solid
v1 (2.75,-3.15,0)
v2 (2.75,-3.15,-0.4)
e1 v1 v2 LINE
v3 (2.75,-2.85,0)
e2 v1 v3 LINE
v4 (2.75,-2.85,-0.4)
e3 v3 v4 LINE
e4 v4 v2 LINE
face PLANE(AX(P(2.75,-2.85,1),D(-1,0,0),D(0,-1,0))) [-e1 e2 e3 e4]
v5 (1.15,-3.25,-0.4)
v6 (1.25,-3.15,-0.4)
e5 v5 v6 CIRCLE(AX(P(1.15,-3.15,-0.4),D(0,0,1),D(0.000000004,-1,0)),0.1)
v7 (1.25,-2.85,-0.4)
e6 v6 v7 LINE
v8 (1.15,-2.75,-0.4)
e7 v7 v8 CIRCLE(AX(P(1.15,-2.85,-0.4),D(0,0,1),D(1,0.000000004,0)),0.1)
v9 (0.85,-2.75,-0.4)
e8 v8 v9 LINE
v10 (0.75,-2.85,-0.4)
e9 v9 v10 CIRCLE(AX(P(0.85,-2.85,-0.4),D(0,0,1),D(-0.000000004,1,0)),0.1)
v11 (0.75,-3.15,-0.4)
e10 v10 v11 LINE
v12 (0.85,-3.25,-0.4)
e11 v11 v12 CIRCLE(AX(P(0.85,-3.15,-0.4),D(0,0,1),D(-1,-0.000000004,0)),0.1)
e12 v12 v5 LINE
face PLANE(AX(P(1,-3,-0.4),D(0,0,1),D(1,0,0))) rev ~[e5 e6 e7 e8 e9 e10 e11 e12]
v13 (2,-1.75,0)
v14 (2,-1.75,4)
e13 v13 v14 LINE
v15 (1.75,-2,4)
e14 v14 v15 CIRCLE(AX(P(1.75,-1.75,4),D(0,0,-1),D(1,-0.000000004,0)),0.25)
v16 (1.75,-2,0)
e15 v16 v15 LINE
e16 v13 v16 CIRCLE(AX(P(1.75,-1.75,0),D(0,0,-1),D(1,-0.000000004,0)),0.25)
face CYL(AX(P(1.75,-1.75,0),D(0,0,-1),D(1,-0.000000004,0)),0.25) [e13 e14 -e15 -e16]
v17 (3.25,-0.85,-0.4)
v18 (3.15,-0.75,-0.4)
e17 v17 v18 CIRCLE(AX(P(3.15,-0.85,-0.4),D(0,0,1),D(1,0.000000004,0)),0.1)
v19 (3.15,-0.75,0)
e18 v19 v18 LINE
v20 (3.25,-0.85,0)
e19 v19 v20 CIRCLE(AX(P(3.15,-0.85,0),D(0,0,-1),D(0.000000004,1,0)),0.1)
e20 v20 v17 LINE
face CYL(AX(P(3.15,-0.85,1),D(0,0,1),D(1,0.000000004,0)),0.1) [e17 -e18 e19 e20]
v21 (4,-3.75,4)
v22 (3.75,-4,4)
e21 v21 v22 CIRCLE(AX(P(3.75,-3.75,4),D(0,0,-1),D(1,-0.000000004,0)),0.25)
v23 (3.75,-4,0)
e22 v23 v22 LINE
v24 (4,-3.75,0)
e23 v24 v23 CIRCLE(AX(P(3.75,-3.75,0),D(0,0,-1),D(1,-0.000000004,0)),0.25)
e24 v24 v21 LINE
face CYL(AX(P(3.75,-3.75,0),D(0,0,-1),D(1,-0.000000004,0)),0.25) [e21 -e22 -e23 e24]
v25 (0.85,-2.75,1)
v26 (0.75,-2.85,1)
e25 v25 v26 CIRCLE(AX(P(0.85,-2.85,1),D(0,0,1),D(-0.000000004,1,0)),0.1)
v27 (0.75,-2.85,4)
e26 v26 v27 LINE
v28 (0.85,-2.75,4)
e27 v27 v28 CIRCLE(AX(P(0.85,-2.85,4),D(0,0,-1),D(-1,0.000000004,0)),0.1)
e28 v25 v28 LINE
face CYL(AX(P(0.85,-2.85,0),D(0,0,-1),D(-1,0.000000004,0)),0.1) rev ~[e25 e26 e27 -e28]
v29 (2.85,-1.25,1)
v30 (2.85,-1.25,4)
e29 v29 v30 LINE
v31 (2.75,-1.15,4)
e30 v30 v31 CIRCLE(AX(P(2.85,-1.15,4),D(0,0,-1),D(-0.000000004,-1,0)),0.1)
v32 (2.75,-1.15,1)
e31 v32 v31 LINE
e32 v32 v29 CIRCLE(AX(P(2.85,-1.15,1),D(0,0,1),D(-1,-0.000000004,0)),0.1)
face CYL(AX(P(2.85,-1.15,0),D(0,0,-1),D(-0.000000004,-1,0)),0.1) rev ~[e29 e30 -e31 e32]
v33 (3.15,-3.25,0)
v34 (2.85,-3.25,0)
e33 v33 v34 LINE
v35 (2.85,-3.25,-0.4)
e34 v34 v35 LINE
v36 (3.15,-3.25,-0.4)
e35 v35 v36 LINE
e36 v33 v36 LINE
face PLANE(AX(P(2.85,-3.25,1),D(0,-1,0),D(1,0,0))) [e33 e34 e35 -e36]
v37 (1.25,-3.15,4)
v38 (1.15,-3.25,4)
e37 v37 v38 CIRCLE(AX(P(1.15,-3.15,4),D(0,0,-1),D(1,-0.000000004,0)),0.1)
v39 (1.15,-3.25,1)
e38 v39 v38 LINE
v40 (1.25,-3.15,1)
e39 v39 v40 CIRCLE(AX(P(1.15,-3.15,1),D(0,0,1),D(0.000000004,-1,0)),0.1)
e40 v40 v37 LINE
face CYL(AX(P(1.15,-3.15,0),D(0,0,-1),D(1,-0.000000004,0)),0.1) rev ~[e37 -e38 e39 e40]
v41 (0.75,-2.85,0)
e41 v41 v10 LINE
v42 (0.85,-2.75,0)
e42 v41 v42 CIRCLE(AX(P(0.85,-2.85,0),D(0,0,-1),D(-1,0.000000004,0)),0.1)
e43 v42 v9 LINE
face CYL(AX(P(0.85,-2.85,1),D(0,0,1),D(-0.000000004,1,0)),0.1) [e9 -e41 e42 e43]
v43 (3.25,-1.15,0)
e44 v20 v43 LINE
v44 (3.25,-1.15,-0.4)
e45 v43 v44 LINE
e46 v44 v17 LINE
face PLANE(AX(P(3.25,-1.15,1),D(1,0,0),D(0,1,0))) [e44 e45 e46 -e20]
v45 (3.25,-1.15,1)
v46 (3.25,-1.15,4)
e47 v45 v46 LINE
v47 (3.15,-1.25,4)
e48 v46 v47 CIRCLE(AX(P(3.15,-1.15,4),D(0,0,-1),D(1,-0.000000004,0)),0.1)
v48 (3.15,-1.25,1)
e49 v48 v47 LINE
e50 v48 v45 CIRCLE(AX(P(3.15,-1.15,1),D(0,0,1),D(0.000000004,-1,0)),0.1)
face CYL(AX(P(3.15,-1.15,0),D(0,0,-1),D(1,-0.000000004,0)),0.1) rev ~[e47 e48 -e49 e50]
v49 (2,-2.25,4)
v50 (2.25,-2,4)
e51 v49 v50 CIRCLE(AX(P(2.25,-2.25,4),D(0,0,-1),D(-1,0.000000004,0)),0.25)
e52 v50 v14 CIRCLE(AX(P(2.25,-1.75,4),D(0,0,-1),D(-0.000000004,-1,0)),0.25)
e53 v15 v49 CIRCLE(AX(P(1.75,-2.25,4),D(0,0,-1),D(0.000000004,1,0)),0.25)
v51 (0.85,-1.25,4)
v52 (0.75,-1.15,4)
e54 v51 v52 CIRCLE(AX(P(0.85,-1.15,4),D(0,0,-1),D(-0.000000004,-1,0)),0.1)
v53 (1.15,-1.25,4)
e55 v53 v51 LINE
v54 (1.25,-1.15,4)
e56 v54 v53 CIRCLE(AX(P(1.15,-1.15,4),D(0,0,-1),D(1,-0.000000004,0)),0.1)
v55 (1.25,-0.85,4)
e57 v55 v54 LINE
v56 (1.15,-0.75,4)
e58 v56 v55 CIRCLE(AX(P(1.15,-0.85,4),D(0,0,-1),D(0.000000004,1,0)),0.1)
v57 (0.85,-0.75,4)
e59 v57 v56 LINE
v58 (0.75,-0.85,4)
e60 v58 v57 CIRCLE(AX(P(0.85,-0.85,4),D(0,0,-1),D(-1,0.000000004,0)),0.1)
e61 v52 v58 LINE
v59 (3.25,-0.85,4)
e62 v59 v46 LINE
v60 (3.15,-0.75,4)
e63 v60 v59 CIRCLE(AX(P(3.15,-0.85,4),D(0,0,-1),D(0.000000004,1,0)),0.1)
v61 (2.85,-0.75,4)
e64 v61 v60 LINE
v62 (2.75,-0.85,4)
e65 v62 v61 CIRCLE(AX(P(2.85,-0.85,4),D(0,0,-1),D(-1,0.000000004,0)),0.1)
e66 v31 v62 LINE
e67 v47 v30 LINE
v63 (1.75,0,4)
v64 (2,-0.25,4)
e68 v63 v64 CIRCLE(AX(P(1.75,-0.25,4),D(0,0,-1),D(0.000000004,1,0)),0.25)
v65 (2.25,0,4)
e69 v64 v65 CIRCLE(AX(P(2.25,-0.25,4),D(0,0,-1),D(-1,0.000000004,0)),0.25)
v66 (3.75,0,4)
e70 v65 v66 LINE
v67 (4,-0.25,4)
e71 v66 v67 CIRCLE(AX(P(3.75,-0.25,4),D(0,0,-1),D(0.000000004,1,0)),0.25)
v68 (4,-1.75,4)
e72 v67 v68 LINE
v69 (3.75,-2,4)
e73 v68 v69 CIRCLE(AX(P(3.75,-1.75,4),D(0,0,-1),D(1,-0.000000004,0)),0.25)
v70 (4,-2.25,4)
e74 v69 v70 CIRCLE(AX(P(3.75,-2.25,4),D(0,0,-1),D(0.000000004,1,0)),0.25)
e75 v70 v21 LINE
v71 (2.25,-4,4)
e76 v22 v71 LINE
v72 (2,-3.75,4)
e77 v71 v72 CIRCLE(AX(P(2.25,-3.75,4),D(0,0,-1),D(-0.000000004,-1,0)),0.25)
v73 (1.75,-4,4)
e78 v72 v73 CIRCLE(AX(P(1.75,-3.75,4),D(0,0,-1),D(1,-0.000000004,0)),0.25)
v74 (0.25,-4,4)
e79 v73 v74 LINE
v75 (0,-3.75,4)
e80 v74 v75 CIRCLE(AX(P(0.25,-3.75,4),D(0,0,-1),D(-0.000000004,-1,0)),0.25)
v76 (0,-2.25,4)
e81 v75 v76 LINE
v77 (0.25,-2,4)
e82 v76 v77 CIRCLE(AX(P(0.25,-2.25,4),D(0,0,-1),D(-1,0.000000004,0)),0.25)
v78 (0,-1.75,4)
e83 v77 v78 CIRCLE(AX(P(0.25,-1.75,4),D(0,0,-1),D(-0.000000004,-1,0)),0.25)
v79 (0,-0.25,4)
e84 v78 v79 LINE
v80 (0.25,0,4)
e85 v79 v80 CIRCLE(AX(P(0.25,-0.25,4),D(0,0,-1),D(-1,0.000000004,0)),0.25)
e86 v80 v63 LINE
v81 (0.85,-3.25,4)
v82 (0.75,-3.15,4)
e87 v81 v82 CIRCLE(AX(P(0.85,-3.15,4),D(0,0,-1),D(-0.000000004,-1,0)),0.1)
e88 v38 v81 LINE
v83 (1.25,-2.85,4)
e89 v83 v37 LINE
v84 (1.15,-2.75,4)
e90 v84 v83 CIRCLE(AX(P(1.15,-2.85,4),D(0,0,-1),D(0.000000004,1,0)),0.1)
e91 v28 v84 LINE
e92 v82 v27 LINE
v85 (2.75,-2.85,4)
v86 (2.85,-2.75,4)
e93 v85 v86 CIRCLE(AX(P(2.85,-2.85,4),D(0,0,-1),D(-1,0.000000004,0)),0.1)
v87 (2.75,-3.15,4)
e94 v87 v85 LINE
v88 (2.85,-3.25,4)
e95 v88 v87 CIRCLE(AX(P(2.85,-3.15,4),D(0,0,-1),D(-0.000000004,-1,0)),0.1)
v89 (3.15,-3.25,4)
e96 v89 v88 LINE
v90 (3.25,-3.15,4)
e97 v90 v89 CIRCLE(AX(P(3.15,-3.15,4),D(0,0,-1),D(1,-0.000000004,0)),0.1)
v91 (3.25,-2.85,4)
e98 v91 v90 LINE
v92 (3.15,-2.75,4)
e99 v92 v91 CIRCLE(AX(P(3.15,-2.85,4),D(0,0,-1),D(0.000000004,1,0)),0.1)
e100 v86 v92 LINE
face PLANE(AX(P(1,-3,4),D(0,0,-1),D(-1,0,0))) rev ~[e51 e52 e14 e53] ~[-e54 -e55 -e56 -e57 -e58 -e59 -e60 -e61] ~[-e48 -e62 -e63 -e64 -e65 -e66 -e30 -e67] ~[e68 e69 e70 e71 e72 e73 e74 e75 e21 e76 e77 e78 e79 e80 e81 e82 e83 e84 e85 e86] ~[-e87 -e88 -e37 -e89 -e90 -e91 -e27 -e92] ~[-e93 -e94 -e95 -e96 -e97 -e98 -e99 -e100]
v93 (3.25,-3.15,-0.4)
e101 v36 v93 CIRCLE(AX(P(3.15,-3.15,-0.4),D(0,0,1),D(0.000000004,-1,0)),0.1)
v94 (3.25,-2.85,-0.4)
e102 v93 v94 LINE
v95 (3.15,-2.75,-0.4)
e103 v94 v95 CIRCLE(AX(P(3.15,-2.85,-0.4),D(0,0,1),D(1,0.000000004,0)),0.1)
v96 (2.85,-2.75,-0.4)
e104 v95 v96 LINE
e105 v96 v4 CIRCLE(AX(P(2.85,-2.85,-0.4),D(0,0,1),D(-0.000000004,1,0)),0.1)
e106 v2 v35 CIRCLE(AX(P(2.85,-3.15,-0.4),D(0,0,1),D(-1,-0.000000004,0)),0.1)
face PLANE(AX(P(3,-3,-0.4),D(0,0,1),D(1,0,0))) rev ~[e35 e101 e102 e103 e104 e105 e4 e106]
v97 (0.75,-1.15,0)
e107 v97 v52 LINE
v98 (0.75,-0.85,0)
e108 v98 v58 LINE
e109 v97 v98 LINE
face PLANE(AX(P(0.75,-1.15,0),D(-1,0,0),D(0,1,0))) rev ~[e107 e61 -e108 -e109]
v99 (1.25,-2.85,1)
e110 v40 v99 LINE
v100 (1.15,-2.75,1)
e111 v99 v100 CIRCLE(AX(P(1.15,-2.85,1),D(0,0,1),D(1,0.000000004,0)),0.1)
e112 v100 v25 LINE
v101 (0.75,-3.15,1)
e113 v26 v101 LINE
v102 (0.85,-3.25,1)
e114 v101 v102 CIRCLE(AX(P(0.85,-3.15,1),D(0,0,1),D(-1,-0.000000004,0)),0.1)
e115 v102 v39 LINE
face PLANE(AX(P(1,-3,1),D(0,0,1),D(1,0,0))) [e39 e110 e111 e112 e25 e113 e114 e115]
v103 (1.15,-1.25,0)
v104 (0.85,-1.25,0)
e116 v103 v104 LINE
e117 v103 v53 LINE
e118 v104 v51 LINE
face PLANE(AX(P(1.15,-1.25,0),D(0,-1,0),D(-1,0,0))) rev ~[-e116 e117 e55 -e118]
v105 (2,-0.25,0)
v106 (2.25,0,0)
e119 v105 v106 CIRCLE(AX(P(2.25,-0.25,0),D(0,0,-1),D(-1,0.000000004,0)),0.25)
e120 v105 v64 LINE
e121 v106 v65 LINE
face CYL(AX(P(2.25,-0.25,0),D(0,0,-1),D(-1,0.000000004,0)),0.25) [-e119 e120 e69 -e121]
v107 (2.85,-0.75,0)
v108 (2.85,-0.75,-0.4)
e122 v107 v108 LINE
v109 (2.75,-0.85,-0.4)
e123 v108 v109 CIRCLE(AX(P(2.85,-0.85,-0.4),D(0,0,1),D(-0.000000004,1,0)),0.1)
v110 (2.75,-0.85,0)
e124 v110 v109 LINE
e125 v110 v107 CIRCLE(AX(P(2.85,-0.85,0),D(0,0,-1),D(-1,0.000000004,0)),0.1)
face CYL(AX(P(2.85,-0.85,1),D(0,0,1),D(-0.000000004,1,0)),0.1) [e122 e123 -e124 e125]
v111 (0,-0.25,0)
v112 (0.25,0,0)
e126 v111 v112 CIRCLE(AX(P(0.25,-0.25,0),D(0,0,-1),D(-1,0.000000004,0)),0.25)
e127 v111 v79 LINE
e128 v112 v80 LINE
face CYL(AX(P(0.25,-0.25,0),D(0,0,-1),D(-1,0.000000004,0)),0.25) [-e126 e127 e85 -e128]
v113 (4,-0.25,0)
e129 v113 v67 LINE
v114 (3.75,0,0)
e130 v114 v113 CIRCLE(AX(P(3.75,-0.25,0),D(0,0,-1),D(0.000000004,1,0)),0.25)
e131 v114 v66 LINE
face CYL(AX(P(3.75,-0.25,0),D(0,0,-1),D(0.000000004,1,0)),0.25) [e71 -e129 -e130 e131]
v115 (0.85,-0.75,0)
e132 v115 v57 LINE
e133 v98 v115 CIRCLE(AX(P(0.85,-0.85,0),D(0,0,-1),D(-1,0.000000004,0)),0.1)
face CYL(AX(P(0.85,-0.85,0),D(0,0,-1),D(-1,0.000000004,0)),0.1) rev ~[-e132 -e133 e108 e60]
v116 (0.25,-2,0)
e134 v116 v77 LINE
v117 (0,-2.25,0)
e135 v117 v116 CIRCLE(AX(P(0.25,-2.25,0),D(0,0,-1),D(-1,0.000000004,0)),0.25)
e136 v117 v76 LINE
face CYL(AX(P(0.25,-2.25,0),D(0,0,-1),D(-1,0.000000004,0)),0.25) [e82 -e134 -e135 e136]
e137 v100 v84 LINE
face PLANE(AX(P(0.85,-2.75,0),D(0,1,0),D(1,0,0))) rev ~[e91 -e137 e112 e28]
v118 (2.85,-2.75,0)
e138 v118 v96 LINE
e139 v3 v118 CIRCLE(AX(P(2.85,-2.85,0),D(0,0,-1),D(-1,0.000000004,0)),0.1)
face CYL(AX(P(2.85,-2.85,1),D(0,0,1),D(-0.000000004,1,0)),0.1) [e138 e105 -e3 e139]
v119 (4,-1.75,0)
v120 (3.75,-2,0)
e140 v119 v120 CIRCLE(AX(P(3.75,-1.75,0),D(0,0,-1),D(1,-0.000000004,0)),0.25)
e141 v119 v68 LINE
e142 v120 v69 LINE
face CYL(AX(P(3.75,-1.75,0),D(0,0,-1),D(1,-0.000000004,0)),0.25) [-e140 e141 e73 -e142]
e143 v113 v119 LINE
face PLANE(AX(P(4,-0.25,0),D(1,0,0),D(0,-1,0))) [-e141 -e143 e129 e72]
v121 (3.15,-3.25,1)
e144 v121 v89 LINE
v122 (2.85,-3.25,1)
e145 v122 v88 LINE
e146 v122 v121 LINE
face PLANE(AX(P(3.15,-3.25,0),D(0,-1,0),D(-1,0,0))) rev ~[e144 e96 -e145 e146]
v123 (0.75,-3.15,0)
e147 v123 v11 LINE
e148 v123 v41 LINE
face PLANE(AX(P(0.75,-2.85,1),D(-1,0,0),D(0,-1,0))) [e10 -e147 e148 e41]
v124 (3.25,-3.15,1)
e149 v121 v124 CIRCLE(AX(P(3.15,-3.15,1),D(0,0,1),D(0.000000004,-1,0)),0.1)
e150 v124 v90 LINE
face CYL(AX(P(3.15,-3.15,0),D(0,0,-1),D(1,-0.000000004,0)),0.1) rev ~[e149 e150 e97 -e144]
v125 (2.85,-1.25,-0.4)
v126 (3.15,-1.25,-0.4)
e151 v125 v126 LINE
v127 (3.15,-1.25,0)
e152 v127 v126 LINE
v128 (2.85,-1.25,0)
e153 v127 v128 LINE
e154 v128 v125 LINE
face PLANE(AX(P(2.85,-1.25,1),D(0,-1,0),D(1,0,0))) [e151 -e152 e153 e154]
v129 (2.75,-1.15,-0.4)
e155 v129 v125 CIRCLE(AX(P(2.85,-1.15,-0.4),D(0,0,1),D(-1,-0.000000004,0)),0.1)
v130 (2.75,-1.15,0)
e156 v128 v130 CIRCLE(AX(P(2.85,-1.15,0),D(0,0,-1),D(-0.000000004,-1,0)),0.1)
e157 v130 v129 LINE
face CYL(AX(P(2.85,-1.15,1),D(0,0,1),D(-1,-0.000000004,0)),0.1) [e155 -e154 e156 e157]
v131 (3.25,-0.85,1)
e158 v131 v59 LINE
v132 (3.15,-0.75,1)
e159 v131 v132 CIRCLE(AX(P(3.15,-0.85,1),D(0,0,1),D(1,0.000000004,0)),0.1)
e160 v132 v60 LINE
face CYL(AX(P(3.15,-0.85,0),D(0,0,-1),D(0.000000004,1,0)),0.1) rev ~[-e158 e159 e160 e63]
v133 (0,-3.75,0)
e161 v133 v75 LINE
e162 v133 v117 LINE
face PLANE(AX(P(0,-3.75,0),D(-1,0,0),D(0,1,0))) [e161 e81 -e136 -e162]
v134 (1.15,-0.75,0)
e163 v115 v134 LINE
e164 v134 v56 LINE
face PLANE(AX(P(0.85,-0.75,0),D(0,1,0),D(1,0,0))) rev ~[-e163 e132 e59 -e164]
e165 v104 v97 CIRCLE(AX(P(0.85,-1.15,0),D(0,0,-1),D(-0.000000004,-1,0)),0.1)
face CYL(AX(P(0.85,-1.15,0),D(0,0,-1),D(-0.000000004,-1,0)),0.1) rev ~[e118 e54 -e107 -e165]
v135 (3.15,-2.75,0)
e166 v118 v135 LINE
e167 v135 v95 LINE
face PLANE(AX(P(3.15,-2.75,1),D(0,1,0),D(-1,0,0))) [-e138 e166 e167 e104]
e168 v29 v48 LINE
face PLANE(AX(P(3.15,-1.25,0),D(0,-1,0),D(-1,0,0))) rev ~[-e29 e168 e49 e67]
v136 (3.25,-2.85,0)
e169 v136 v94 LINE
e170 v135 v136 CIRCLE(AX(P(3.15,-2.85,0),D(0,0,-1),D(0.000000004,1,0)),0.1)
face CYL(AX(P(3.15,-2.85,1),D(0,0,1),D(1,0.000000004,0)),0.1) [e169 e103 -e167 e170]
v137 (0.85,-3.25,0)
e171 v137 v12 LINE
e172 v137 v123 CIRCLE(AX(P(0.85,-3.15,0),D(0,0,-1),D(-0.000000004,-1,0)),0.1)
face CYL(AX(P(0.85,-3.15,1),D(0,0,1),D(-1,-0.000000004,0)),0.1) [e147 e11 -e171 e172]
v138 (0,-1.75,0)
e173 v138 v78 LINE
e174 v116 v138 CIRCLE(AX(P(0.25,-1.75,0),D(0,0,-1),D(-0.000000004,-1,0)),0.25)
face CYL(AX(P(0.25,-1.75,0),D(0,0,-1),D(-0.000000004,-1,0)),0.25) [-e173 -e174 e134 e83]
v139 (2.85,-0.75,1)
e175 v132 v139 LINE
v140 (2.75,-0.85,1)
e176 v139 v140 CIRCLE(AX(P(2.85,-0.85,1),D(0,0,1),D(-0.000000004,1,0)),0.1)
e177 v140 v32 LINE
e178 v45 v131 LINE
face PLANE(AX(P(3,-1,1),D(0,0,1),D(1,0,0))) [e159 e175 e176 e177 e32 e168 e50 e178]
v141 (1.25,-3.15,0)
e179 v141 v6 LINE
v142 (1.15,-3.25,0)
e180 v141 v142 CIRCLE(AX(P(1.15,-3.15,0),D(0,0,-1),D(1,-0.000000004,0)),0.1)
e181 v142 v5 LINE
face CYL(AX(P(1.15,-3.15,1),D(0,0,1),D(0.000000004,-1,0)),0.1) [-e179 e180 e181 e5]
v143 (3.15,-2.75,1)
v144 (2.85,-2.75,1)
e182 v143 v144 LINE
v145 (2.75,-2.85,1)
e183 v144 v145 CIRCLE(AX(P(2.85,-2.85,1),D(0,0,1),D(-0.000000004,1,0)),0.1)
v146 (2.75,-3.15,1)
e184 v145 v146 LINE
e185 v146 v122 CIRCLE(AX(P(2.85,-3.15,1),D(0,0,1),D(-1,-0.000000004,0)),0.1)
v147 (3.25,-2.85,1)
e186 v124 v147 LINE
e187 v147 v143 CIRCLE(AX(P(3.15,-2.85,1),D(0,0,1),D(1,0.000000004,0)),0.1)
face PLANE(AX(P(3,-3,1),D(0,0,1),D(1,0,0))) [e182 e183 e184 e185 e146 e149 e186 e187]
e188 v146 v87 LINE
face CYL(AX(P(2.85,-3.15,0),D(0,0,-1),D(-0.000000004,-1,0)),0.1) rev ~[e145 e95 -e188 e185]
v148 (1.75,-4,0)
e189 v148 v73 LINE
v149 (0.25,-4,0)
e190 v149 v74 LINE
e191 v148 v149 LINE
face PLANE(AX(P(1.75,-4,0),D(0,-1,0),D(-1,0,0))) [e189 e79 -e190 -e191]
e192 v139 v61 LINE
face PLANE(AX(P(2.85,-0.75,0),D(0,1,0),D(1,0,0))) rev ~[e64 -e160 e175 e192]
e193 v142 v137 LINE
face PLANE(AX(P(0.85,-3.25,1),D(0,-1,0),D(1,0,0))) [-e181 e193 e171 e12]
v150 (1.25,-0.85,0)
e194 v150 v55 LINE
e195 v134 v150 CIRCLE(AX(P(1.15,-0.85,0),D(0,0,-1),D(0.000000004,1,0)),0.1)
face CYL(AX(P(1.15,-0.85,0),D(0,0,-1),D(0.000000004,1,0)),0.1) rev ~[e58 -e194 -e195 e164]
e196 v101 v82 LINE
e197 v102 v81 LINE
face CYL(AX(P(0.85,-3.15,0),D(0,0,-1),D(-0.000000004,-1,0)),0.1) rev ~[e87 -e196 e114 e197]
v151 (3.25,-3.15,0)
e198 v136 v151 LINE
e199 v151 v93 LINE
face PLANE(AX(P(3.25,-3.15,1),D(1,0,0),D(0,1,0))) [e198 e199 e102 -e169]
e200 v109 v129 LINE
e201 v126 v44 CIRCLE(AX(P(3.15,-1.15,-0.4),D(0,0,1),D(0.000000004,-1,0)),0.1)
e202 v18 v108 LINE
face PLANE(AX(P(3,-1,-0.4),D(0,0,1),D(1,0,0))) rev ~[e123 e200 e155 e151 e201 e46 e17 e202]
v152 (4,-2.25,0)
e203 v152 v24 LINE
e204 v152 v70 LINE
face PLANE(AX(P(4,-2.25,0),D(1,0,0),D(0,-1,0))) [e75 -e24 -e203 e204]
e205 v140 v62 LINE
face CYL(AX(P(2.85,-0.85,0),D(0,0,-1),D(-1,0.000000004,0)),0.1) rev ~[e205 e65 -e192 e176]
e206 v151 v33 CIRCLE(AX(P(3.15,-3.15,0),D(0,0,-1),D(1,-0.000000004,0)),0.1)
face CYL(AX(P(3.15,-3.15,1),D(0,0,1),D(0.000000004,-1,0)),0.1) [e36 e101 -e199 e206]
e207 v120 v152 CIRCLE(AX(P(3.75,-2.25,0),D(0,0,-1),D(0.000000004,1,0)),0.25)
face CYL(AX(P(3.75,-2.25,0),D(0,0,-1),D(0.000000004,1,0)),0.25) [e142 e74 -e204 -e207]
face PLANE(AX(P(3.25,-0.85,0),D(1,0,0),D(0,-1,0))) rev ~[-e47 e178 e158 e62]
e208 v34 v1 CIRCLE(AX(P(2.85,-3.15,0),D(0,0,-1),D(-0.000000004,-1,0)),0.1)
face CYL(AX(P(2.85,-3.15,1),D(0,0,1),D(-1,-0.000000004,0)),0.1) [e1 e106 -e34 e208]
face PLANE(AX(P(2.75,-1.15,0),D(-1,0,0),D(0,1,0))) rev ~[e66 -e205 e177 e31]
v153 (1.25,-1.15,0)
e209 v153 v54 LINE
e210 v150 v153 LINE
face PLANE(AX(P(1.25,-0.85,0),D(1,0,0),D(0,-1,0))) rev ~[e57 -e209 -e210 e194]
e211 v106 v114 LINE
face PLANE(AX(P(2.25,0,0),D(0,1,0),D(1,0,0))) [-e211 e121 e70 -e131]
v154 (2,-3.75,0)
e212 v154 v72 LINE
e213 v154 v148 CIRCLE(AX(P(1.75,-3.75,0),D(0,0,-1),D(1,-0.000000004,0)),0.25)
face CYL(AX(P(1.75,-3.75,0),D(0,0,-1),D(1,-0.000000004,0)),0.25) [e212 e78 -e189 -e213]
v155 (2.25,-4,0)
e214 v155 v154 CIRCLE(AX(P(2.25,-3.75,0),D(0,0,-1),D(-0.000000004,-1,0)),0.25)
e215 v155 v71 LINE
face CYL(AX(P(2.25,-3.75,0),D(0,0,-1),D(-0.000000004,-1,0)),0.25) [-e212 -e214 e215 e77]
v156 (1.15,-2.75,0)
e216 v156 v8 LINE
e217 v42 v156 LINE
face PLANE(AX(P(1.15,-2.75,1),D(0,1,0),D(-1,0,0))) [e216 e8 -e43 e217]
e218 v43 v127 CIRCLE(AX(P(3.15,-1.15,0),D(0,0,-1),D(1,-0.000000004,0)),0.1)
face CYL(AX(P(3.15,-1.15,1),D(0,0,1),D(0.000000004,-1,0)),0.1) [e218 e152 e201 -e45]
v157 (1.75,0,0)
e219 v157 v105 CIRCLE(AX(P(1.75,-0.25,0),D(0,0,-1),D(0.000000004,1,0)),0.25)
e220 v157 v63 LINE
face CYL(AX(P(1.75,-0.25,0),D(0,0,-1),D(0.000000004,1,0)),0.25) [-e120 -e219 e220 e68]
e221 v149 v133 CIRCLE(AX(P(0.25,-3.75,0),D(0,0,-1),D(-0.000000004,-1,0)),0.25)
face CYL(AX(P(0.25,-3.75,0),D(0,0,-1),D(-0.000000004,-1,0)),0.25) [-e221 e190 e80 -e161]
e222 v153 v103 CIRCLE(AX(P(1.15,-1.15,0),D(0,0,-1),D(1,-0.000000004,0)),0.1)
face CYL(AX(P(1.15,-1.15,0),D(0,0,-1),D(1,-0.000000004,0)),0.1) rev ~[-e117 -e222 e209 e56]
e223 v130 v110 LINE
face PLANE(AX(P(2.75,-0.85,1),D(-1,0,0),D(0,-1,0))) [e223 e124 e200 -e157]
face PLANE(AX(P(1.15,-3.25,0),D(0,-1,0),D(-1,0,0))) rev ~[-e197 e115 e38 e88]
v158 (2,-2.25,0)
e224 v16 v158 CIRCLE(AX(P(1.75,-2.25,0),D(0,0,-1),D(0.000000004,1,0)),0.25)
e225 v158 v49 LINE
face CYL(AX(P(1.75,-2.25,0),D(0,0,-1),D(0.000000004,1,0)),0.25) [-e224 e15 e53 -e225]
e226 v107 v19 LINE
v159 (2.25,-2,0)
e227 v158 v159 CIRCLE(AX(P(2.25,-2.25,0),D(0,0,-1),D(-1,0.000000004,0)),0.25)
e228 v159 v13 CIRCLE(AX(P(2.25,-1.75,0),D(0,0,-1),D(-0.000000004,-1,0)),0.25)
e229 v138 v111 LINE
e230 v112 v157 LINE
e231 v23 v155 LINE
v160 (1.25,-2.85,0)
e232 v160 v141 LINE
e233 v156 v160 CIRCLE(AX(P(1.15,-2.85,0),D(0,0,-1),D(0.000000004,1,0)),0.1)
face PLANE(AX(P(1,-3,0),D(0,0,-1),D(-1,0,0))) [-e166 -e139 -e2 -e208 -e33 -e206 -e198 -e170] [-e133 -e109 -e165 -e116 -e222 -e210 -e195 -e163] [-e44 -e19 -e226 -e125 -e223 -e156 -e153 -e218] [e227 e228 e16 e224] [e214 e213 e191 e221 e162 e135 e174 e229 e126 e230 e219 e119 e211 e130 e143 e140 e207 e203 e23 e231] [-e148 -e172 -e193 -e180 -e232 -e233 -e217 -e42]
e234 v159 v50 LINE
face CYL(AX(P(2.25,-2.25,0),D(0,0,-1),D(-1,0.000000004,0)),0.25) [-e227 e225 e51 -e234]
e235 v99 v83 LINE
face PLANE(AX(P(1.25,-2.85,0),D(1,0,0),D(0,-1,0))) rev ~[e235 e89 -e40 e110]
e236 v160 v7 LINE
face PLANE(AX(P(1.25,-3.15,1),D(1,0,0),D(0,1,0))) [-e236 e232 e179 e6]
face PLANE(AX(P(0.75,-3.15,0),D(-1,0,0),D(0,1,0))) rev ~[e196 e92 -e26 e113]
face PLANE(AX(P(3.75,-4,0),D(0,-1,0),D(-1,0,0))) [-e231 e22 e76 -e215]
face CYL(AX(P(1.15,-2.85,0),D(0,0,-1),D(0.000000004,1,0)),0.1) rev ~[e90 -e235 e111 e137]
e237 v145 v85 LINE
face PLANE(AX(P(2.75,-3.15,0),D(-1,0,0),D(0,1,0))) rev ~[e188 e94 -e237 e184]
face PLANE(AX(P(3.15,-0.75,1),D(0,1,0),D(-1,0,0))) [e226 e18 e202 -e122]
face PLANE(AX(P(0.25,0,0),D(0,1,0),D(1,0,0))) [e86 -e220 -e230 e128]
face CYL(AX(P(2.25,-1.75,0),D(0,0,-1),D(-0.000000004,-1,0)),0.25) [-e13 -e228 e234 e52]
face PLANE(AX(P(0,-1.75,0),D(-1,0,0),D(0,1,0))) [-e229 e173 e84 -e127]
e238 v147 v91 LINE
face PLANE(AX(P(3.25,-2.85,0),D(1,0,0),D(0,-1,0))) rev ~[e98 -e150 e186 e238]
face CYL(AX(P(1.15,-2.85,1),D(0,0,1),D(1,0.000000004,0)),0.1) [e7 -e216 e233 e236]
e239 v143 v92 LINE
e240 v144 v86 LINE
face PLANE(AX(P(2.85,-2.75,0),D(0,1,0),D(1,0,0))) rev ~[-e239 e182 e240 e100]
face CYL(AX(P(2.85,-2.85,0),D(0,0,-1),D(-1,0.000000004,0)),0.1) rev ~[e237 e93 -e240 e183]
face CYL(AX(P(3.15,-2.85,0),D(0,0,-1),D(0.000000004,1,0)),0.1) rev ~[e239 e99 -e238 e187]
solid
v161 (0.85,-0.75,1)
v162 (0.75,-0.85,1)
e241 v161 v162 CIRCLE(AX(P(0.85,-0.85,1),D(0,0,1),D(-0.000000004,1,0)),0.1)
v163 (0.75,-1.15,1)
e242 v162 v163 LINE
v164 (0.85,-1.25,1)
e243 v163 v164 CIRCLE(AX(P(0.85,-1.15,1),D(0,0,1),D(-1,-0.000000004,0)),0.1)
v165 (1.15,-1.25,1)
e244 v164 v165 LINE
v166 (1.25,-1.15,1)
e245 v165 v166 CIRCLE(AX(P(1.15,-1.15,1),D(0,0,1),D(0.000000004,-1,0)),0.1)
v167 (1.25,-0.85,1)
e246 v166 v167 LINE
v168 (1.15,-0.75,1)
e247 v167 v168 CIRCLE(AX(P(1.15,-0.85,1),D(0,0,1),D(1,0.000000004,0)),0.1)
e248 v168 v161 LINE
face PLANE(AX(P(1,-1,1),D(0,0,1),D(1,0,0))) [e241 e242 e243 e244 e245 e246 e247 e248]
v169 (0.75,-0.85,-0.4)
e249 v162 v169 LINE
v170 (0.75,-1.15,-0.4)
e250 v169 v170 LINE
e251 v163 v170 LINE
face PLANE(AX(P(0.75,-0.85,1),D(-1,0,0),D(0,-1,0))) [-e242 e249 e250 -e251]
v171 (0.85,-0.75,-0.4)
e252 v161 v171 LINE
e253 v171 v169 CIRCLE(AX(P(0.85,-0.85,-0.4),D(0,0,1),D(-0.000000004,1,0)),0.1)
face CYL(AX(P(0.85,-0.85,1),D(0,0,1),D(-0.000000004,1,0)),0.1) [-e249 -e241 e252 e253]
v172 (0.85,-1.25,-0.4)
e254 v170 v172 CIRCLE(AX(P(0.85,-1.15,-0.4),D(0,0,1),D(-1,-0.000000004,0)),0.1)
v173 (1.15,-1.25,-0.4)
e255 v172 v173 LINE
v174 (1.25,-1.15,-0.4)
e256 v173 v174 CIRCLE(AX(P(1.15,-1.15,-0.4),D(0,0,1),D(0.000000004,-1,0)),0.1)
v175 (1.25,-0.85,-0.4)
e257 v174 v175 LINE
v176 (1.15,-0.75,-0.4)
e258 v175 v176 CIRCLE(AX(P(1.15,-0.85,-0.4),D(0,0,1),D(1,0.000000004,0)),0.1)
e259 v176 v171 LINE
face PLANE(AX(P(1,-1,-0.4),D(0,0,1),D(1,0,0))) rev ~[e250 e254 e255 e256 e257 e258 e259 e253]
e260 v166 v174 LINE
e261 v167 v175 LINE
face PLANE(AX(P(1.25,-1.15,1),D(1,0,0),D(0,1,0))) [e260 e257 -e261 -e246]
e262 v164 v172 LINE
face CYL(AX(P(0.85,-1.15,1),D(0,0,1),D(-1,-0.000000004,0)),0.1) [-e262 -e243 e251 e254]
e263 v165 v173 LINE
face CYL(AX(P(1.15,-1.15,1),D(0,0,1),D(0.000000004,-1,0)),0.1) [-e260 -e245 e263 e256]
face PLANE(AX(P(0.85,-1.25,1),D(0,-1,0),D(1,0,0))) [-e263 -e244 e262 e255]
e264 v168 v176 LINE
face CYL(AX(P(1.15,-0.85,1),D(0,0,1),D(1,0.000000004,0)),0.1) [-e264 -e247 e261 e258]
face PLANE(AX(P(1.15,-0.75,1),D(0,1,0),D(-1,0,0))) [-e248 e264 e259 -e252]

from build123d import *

# Parameters (mm, degrees)
EXTRUDE_1_DEPTH              = 4
PATTERN_LINEAR_2_COUNT       = 2
PATTERN_LINEAR_2_PITCH       = 2
PATTERN_LINEAR_2_COUNT_DIR2  = 2
PATTERN_LINEAR_2_PITCH_DIR2  = 2
EXTRUDE_START                = -1
EXTRUDE_3_DEPTH              = 1.4
PATTERN_LINEAR_11_COUNT      = 2
PATTERN_LINEAR_11_PITCH      = 2
PATTERN_LINEAR_11_COUNT_DIR2 = 2
PATTERN_LINEAR_11_PITCH_DIR2 = 2


with BuildPart() as part:
    # 草图1 → 凸台-拉伸1 (new body)
    with BuildSketch(Plane.XY):
        with BuildLine():
            Line((0.25, 0), (1.75, 0))
            ThreePointArc((1.75, 0), (1.926776695, -0.073223305), (2, -0.25))
            Line((2, -0.25), (2, -1.75))
            ThreePointArc((2, -1.75), (1.926776695, -1.926776695), (1.75, -2))
            Line((1.75, -2), (0.25, -2))
            ThreePointArc((0.25, -2), (0.073223305, -1.926776695), (0, -1.75))
            Line((0, -1.75), (0, -0.25))
            ThreePointArc((0, -0.25), (0.073223305, -0.073223305), (0.25, 0))
        make_face()
        with BuildLine():
            Line((0.85, -0.75), (1.15, -0.75))
            ThreePointArc((1.15, -0.75), (1.220710678, -0.779289322), (1.25, -0.85))
            Line((1.25, -0.85), (1.25, -1.15))
            ThreePointArc((1.25, -1.15), (1.220710678, -1.220710678), (1.15, -1.25))
            Line((1.15, -1.25), (0.85, -1.25))
            ThreePointArc((0.85, -1.25), (0.779289322, -1.220710678), (0.75, -1.15))
            Line((0.75, -1.15), (0.75, -0.85))
            ThreePointArc((0.75, -0.85), (0.779289322, -0.779289322), (0.85, -0.75))
        make_face(mode=Mode.SUBTRACT)
    extrude_1 = extrude(amount=EXTRUDE_1_DEPTH)

    # 阵列(线性)2: Extrude 1 2 × 2
    with Locations(*[(i * PATTERN_LINEAR_2_PITCH, -j * PATTERN_LINEAR_2_PITCH_DIR2, 0) for i in range(PATTERN_LINEAR_2_COUNT) for j in range(PATTERN_LINEAR_2_COUNT_DIR2) if (i, j) != (0, 0)]):
        add(extrude_1)


with BuildPart() as body_2:
    # 草图5 → 凸台-拉伸3 (new body)
    with BuildSketch(Plane(origin=(0, 0, 0), x_dir=(-1, 0, 0), z_dir=(0, 0, -1)).offset(EXTRUDE_START)):
        with BuildLine():
            Line((-0.75, -0.85), (-0.75, -1.15))
            ThreePointArc((-0.75, -1.15), (-0.779289322, -1.220710678), (-0.85, -1.25))
            Line((-0.85, -1.25), (-1.15, -1.25))
            ThreePointArc((-1.15, -1.25), (-1.220710678, -1.220710678), (-1.25, -1.15))
            Line((-1.25, -1.15), (-1.25, -0.85))
            ThreePointArc((-1.25, -0.85), (-1.220710678, -0.779289322), (-1.15, -0.75))
            Line((-1.15, -0.75), (-0.85, -0.75))
            ThreePointArc((-0.85, -0.75), (-0.779289322, -0.779289322), (-0.75, -0.85))
        make_face()
    extrude_3 = extrude(amount=EXTRUDE_3_DEPTH)


with BuildPart() as part_1:
    add(part.part)

    # 阵列(线性)11: Extrude 3 2 × 2
    with Locations(*[(i * PATTERN_LINEAR_11_PITCH, -j * PATTERN_LINEAR_11_PITCH_DIR2, 0) for i in range(PATTERN_LINEAR_11_COUNT) for j in range(PATTERN_LINEAR_11_COUNT_DIR2) if (i, j) != (0, 0)]):
        add(extrude_3)


solid = Compound([body_2.part, part_1.part])
